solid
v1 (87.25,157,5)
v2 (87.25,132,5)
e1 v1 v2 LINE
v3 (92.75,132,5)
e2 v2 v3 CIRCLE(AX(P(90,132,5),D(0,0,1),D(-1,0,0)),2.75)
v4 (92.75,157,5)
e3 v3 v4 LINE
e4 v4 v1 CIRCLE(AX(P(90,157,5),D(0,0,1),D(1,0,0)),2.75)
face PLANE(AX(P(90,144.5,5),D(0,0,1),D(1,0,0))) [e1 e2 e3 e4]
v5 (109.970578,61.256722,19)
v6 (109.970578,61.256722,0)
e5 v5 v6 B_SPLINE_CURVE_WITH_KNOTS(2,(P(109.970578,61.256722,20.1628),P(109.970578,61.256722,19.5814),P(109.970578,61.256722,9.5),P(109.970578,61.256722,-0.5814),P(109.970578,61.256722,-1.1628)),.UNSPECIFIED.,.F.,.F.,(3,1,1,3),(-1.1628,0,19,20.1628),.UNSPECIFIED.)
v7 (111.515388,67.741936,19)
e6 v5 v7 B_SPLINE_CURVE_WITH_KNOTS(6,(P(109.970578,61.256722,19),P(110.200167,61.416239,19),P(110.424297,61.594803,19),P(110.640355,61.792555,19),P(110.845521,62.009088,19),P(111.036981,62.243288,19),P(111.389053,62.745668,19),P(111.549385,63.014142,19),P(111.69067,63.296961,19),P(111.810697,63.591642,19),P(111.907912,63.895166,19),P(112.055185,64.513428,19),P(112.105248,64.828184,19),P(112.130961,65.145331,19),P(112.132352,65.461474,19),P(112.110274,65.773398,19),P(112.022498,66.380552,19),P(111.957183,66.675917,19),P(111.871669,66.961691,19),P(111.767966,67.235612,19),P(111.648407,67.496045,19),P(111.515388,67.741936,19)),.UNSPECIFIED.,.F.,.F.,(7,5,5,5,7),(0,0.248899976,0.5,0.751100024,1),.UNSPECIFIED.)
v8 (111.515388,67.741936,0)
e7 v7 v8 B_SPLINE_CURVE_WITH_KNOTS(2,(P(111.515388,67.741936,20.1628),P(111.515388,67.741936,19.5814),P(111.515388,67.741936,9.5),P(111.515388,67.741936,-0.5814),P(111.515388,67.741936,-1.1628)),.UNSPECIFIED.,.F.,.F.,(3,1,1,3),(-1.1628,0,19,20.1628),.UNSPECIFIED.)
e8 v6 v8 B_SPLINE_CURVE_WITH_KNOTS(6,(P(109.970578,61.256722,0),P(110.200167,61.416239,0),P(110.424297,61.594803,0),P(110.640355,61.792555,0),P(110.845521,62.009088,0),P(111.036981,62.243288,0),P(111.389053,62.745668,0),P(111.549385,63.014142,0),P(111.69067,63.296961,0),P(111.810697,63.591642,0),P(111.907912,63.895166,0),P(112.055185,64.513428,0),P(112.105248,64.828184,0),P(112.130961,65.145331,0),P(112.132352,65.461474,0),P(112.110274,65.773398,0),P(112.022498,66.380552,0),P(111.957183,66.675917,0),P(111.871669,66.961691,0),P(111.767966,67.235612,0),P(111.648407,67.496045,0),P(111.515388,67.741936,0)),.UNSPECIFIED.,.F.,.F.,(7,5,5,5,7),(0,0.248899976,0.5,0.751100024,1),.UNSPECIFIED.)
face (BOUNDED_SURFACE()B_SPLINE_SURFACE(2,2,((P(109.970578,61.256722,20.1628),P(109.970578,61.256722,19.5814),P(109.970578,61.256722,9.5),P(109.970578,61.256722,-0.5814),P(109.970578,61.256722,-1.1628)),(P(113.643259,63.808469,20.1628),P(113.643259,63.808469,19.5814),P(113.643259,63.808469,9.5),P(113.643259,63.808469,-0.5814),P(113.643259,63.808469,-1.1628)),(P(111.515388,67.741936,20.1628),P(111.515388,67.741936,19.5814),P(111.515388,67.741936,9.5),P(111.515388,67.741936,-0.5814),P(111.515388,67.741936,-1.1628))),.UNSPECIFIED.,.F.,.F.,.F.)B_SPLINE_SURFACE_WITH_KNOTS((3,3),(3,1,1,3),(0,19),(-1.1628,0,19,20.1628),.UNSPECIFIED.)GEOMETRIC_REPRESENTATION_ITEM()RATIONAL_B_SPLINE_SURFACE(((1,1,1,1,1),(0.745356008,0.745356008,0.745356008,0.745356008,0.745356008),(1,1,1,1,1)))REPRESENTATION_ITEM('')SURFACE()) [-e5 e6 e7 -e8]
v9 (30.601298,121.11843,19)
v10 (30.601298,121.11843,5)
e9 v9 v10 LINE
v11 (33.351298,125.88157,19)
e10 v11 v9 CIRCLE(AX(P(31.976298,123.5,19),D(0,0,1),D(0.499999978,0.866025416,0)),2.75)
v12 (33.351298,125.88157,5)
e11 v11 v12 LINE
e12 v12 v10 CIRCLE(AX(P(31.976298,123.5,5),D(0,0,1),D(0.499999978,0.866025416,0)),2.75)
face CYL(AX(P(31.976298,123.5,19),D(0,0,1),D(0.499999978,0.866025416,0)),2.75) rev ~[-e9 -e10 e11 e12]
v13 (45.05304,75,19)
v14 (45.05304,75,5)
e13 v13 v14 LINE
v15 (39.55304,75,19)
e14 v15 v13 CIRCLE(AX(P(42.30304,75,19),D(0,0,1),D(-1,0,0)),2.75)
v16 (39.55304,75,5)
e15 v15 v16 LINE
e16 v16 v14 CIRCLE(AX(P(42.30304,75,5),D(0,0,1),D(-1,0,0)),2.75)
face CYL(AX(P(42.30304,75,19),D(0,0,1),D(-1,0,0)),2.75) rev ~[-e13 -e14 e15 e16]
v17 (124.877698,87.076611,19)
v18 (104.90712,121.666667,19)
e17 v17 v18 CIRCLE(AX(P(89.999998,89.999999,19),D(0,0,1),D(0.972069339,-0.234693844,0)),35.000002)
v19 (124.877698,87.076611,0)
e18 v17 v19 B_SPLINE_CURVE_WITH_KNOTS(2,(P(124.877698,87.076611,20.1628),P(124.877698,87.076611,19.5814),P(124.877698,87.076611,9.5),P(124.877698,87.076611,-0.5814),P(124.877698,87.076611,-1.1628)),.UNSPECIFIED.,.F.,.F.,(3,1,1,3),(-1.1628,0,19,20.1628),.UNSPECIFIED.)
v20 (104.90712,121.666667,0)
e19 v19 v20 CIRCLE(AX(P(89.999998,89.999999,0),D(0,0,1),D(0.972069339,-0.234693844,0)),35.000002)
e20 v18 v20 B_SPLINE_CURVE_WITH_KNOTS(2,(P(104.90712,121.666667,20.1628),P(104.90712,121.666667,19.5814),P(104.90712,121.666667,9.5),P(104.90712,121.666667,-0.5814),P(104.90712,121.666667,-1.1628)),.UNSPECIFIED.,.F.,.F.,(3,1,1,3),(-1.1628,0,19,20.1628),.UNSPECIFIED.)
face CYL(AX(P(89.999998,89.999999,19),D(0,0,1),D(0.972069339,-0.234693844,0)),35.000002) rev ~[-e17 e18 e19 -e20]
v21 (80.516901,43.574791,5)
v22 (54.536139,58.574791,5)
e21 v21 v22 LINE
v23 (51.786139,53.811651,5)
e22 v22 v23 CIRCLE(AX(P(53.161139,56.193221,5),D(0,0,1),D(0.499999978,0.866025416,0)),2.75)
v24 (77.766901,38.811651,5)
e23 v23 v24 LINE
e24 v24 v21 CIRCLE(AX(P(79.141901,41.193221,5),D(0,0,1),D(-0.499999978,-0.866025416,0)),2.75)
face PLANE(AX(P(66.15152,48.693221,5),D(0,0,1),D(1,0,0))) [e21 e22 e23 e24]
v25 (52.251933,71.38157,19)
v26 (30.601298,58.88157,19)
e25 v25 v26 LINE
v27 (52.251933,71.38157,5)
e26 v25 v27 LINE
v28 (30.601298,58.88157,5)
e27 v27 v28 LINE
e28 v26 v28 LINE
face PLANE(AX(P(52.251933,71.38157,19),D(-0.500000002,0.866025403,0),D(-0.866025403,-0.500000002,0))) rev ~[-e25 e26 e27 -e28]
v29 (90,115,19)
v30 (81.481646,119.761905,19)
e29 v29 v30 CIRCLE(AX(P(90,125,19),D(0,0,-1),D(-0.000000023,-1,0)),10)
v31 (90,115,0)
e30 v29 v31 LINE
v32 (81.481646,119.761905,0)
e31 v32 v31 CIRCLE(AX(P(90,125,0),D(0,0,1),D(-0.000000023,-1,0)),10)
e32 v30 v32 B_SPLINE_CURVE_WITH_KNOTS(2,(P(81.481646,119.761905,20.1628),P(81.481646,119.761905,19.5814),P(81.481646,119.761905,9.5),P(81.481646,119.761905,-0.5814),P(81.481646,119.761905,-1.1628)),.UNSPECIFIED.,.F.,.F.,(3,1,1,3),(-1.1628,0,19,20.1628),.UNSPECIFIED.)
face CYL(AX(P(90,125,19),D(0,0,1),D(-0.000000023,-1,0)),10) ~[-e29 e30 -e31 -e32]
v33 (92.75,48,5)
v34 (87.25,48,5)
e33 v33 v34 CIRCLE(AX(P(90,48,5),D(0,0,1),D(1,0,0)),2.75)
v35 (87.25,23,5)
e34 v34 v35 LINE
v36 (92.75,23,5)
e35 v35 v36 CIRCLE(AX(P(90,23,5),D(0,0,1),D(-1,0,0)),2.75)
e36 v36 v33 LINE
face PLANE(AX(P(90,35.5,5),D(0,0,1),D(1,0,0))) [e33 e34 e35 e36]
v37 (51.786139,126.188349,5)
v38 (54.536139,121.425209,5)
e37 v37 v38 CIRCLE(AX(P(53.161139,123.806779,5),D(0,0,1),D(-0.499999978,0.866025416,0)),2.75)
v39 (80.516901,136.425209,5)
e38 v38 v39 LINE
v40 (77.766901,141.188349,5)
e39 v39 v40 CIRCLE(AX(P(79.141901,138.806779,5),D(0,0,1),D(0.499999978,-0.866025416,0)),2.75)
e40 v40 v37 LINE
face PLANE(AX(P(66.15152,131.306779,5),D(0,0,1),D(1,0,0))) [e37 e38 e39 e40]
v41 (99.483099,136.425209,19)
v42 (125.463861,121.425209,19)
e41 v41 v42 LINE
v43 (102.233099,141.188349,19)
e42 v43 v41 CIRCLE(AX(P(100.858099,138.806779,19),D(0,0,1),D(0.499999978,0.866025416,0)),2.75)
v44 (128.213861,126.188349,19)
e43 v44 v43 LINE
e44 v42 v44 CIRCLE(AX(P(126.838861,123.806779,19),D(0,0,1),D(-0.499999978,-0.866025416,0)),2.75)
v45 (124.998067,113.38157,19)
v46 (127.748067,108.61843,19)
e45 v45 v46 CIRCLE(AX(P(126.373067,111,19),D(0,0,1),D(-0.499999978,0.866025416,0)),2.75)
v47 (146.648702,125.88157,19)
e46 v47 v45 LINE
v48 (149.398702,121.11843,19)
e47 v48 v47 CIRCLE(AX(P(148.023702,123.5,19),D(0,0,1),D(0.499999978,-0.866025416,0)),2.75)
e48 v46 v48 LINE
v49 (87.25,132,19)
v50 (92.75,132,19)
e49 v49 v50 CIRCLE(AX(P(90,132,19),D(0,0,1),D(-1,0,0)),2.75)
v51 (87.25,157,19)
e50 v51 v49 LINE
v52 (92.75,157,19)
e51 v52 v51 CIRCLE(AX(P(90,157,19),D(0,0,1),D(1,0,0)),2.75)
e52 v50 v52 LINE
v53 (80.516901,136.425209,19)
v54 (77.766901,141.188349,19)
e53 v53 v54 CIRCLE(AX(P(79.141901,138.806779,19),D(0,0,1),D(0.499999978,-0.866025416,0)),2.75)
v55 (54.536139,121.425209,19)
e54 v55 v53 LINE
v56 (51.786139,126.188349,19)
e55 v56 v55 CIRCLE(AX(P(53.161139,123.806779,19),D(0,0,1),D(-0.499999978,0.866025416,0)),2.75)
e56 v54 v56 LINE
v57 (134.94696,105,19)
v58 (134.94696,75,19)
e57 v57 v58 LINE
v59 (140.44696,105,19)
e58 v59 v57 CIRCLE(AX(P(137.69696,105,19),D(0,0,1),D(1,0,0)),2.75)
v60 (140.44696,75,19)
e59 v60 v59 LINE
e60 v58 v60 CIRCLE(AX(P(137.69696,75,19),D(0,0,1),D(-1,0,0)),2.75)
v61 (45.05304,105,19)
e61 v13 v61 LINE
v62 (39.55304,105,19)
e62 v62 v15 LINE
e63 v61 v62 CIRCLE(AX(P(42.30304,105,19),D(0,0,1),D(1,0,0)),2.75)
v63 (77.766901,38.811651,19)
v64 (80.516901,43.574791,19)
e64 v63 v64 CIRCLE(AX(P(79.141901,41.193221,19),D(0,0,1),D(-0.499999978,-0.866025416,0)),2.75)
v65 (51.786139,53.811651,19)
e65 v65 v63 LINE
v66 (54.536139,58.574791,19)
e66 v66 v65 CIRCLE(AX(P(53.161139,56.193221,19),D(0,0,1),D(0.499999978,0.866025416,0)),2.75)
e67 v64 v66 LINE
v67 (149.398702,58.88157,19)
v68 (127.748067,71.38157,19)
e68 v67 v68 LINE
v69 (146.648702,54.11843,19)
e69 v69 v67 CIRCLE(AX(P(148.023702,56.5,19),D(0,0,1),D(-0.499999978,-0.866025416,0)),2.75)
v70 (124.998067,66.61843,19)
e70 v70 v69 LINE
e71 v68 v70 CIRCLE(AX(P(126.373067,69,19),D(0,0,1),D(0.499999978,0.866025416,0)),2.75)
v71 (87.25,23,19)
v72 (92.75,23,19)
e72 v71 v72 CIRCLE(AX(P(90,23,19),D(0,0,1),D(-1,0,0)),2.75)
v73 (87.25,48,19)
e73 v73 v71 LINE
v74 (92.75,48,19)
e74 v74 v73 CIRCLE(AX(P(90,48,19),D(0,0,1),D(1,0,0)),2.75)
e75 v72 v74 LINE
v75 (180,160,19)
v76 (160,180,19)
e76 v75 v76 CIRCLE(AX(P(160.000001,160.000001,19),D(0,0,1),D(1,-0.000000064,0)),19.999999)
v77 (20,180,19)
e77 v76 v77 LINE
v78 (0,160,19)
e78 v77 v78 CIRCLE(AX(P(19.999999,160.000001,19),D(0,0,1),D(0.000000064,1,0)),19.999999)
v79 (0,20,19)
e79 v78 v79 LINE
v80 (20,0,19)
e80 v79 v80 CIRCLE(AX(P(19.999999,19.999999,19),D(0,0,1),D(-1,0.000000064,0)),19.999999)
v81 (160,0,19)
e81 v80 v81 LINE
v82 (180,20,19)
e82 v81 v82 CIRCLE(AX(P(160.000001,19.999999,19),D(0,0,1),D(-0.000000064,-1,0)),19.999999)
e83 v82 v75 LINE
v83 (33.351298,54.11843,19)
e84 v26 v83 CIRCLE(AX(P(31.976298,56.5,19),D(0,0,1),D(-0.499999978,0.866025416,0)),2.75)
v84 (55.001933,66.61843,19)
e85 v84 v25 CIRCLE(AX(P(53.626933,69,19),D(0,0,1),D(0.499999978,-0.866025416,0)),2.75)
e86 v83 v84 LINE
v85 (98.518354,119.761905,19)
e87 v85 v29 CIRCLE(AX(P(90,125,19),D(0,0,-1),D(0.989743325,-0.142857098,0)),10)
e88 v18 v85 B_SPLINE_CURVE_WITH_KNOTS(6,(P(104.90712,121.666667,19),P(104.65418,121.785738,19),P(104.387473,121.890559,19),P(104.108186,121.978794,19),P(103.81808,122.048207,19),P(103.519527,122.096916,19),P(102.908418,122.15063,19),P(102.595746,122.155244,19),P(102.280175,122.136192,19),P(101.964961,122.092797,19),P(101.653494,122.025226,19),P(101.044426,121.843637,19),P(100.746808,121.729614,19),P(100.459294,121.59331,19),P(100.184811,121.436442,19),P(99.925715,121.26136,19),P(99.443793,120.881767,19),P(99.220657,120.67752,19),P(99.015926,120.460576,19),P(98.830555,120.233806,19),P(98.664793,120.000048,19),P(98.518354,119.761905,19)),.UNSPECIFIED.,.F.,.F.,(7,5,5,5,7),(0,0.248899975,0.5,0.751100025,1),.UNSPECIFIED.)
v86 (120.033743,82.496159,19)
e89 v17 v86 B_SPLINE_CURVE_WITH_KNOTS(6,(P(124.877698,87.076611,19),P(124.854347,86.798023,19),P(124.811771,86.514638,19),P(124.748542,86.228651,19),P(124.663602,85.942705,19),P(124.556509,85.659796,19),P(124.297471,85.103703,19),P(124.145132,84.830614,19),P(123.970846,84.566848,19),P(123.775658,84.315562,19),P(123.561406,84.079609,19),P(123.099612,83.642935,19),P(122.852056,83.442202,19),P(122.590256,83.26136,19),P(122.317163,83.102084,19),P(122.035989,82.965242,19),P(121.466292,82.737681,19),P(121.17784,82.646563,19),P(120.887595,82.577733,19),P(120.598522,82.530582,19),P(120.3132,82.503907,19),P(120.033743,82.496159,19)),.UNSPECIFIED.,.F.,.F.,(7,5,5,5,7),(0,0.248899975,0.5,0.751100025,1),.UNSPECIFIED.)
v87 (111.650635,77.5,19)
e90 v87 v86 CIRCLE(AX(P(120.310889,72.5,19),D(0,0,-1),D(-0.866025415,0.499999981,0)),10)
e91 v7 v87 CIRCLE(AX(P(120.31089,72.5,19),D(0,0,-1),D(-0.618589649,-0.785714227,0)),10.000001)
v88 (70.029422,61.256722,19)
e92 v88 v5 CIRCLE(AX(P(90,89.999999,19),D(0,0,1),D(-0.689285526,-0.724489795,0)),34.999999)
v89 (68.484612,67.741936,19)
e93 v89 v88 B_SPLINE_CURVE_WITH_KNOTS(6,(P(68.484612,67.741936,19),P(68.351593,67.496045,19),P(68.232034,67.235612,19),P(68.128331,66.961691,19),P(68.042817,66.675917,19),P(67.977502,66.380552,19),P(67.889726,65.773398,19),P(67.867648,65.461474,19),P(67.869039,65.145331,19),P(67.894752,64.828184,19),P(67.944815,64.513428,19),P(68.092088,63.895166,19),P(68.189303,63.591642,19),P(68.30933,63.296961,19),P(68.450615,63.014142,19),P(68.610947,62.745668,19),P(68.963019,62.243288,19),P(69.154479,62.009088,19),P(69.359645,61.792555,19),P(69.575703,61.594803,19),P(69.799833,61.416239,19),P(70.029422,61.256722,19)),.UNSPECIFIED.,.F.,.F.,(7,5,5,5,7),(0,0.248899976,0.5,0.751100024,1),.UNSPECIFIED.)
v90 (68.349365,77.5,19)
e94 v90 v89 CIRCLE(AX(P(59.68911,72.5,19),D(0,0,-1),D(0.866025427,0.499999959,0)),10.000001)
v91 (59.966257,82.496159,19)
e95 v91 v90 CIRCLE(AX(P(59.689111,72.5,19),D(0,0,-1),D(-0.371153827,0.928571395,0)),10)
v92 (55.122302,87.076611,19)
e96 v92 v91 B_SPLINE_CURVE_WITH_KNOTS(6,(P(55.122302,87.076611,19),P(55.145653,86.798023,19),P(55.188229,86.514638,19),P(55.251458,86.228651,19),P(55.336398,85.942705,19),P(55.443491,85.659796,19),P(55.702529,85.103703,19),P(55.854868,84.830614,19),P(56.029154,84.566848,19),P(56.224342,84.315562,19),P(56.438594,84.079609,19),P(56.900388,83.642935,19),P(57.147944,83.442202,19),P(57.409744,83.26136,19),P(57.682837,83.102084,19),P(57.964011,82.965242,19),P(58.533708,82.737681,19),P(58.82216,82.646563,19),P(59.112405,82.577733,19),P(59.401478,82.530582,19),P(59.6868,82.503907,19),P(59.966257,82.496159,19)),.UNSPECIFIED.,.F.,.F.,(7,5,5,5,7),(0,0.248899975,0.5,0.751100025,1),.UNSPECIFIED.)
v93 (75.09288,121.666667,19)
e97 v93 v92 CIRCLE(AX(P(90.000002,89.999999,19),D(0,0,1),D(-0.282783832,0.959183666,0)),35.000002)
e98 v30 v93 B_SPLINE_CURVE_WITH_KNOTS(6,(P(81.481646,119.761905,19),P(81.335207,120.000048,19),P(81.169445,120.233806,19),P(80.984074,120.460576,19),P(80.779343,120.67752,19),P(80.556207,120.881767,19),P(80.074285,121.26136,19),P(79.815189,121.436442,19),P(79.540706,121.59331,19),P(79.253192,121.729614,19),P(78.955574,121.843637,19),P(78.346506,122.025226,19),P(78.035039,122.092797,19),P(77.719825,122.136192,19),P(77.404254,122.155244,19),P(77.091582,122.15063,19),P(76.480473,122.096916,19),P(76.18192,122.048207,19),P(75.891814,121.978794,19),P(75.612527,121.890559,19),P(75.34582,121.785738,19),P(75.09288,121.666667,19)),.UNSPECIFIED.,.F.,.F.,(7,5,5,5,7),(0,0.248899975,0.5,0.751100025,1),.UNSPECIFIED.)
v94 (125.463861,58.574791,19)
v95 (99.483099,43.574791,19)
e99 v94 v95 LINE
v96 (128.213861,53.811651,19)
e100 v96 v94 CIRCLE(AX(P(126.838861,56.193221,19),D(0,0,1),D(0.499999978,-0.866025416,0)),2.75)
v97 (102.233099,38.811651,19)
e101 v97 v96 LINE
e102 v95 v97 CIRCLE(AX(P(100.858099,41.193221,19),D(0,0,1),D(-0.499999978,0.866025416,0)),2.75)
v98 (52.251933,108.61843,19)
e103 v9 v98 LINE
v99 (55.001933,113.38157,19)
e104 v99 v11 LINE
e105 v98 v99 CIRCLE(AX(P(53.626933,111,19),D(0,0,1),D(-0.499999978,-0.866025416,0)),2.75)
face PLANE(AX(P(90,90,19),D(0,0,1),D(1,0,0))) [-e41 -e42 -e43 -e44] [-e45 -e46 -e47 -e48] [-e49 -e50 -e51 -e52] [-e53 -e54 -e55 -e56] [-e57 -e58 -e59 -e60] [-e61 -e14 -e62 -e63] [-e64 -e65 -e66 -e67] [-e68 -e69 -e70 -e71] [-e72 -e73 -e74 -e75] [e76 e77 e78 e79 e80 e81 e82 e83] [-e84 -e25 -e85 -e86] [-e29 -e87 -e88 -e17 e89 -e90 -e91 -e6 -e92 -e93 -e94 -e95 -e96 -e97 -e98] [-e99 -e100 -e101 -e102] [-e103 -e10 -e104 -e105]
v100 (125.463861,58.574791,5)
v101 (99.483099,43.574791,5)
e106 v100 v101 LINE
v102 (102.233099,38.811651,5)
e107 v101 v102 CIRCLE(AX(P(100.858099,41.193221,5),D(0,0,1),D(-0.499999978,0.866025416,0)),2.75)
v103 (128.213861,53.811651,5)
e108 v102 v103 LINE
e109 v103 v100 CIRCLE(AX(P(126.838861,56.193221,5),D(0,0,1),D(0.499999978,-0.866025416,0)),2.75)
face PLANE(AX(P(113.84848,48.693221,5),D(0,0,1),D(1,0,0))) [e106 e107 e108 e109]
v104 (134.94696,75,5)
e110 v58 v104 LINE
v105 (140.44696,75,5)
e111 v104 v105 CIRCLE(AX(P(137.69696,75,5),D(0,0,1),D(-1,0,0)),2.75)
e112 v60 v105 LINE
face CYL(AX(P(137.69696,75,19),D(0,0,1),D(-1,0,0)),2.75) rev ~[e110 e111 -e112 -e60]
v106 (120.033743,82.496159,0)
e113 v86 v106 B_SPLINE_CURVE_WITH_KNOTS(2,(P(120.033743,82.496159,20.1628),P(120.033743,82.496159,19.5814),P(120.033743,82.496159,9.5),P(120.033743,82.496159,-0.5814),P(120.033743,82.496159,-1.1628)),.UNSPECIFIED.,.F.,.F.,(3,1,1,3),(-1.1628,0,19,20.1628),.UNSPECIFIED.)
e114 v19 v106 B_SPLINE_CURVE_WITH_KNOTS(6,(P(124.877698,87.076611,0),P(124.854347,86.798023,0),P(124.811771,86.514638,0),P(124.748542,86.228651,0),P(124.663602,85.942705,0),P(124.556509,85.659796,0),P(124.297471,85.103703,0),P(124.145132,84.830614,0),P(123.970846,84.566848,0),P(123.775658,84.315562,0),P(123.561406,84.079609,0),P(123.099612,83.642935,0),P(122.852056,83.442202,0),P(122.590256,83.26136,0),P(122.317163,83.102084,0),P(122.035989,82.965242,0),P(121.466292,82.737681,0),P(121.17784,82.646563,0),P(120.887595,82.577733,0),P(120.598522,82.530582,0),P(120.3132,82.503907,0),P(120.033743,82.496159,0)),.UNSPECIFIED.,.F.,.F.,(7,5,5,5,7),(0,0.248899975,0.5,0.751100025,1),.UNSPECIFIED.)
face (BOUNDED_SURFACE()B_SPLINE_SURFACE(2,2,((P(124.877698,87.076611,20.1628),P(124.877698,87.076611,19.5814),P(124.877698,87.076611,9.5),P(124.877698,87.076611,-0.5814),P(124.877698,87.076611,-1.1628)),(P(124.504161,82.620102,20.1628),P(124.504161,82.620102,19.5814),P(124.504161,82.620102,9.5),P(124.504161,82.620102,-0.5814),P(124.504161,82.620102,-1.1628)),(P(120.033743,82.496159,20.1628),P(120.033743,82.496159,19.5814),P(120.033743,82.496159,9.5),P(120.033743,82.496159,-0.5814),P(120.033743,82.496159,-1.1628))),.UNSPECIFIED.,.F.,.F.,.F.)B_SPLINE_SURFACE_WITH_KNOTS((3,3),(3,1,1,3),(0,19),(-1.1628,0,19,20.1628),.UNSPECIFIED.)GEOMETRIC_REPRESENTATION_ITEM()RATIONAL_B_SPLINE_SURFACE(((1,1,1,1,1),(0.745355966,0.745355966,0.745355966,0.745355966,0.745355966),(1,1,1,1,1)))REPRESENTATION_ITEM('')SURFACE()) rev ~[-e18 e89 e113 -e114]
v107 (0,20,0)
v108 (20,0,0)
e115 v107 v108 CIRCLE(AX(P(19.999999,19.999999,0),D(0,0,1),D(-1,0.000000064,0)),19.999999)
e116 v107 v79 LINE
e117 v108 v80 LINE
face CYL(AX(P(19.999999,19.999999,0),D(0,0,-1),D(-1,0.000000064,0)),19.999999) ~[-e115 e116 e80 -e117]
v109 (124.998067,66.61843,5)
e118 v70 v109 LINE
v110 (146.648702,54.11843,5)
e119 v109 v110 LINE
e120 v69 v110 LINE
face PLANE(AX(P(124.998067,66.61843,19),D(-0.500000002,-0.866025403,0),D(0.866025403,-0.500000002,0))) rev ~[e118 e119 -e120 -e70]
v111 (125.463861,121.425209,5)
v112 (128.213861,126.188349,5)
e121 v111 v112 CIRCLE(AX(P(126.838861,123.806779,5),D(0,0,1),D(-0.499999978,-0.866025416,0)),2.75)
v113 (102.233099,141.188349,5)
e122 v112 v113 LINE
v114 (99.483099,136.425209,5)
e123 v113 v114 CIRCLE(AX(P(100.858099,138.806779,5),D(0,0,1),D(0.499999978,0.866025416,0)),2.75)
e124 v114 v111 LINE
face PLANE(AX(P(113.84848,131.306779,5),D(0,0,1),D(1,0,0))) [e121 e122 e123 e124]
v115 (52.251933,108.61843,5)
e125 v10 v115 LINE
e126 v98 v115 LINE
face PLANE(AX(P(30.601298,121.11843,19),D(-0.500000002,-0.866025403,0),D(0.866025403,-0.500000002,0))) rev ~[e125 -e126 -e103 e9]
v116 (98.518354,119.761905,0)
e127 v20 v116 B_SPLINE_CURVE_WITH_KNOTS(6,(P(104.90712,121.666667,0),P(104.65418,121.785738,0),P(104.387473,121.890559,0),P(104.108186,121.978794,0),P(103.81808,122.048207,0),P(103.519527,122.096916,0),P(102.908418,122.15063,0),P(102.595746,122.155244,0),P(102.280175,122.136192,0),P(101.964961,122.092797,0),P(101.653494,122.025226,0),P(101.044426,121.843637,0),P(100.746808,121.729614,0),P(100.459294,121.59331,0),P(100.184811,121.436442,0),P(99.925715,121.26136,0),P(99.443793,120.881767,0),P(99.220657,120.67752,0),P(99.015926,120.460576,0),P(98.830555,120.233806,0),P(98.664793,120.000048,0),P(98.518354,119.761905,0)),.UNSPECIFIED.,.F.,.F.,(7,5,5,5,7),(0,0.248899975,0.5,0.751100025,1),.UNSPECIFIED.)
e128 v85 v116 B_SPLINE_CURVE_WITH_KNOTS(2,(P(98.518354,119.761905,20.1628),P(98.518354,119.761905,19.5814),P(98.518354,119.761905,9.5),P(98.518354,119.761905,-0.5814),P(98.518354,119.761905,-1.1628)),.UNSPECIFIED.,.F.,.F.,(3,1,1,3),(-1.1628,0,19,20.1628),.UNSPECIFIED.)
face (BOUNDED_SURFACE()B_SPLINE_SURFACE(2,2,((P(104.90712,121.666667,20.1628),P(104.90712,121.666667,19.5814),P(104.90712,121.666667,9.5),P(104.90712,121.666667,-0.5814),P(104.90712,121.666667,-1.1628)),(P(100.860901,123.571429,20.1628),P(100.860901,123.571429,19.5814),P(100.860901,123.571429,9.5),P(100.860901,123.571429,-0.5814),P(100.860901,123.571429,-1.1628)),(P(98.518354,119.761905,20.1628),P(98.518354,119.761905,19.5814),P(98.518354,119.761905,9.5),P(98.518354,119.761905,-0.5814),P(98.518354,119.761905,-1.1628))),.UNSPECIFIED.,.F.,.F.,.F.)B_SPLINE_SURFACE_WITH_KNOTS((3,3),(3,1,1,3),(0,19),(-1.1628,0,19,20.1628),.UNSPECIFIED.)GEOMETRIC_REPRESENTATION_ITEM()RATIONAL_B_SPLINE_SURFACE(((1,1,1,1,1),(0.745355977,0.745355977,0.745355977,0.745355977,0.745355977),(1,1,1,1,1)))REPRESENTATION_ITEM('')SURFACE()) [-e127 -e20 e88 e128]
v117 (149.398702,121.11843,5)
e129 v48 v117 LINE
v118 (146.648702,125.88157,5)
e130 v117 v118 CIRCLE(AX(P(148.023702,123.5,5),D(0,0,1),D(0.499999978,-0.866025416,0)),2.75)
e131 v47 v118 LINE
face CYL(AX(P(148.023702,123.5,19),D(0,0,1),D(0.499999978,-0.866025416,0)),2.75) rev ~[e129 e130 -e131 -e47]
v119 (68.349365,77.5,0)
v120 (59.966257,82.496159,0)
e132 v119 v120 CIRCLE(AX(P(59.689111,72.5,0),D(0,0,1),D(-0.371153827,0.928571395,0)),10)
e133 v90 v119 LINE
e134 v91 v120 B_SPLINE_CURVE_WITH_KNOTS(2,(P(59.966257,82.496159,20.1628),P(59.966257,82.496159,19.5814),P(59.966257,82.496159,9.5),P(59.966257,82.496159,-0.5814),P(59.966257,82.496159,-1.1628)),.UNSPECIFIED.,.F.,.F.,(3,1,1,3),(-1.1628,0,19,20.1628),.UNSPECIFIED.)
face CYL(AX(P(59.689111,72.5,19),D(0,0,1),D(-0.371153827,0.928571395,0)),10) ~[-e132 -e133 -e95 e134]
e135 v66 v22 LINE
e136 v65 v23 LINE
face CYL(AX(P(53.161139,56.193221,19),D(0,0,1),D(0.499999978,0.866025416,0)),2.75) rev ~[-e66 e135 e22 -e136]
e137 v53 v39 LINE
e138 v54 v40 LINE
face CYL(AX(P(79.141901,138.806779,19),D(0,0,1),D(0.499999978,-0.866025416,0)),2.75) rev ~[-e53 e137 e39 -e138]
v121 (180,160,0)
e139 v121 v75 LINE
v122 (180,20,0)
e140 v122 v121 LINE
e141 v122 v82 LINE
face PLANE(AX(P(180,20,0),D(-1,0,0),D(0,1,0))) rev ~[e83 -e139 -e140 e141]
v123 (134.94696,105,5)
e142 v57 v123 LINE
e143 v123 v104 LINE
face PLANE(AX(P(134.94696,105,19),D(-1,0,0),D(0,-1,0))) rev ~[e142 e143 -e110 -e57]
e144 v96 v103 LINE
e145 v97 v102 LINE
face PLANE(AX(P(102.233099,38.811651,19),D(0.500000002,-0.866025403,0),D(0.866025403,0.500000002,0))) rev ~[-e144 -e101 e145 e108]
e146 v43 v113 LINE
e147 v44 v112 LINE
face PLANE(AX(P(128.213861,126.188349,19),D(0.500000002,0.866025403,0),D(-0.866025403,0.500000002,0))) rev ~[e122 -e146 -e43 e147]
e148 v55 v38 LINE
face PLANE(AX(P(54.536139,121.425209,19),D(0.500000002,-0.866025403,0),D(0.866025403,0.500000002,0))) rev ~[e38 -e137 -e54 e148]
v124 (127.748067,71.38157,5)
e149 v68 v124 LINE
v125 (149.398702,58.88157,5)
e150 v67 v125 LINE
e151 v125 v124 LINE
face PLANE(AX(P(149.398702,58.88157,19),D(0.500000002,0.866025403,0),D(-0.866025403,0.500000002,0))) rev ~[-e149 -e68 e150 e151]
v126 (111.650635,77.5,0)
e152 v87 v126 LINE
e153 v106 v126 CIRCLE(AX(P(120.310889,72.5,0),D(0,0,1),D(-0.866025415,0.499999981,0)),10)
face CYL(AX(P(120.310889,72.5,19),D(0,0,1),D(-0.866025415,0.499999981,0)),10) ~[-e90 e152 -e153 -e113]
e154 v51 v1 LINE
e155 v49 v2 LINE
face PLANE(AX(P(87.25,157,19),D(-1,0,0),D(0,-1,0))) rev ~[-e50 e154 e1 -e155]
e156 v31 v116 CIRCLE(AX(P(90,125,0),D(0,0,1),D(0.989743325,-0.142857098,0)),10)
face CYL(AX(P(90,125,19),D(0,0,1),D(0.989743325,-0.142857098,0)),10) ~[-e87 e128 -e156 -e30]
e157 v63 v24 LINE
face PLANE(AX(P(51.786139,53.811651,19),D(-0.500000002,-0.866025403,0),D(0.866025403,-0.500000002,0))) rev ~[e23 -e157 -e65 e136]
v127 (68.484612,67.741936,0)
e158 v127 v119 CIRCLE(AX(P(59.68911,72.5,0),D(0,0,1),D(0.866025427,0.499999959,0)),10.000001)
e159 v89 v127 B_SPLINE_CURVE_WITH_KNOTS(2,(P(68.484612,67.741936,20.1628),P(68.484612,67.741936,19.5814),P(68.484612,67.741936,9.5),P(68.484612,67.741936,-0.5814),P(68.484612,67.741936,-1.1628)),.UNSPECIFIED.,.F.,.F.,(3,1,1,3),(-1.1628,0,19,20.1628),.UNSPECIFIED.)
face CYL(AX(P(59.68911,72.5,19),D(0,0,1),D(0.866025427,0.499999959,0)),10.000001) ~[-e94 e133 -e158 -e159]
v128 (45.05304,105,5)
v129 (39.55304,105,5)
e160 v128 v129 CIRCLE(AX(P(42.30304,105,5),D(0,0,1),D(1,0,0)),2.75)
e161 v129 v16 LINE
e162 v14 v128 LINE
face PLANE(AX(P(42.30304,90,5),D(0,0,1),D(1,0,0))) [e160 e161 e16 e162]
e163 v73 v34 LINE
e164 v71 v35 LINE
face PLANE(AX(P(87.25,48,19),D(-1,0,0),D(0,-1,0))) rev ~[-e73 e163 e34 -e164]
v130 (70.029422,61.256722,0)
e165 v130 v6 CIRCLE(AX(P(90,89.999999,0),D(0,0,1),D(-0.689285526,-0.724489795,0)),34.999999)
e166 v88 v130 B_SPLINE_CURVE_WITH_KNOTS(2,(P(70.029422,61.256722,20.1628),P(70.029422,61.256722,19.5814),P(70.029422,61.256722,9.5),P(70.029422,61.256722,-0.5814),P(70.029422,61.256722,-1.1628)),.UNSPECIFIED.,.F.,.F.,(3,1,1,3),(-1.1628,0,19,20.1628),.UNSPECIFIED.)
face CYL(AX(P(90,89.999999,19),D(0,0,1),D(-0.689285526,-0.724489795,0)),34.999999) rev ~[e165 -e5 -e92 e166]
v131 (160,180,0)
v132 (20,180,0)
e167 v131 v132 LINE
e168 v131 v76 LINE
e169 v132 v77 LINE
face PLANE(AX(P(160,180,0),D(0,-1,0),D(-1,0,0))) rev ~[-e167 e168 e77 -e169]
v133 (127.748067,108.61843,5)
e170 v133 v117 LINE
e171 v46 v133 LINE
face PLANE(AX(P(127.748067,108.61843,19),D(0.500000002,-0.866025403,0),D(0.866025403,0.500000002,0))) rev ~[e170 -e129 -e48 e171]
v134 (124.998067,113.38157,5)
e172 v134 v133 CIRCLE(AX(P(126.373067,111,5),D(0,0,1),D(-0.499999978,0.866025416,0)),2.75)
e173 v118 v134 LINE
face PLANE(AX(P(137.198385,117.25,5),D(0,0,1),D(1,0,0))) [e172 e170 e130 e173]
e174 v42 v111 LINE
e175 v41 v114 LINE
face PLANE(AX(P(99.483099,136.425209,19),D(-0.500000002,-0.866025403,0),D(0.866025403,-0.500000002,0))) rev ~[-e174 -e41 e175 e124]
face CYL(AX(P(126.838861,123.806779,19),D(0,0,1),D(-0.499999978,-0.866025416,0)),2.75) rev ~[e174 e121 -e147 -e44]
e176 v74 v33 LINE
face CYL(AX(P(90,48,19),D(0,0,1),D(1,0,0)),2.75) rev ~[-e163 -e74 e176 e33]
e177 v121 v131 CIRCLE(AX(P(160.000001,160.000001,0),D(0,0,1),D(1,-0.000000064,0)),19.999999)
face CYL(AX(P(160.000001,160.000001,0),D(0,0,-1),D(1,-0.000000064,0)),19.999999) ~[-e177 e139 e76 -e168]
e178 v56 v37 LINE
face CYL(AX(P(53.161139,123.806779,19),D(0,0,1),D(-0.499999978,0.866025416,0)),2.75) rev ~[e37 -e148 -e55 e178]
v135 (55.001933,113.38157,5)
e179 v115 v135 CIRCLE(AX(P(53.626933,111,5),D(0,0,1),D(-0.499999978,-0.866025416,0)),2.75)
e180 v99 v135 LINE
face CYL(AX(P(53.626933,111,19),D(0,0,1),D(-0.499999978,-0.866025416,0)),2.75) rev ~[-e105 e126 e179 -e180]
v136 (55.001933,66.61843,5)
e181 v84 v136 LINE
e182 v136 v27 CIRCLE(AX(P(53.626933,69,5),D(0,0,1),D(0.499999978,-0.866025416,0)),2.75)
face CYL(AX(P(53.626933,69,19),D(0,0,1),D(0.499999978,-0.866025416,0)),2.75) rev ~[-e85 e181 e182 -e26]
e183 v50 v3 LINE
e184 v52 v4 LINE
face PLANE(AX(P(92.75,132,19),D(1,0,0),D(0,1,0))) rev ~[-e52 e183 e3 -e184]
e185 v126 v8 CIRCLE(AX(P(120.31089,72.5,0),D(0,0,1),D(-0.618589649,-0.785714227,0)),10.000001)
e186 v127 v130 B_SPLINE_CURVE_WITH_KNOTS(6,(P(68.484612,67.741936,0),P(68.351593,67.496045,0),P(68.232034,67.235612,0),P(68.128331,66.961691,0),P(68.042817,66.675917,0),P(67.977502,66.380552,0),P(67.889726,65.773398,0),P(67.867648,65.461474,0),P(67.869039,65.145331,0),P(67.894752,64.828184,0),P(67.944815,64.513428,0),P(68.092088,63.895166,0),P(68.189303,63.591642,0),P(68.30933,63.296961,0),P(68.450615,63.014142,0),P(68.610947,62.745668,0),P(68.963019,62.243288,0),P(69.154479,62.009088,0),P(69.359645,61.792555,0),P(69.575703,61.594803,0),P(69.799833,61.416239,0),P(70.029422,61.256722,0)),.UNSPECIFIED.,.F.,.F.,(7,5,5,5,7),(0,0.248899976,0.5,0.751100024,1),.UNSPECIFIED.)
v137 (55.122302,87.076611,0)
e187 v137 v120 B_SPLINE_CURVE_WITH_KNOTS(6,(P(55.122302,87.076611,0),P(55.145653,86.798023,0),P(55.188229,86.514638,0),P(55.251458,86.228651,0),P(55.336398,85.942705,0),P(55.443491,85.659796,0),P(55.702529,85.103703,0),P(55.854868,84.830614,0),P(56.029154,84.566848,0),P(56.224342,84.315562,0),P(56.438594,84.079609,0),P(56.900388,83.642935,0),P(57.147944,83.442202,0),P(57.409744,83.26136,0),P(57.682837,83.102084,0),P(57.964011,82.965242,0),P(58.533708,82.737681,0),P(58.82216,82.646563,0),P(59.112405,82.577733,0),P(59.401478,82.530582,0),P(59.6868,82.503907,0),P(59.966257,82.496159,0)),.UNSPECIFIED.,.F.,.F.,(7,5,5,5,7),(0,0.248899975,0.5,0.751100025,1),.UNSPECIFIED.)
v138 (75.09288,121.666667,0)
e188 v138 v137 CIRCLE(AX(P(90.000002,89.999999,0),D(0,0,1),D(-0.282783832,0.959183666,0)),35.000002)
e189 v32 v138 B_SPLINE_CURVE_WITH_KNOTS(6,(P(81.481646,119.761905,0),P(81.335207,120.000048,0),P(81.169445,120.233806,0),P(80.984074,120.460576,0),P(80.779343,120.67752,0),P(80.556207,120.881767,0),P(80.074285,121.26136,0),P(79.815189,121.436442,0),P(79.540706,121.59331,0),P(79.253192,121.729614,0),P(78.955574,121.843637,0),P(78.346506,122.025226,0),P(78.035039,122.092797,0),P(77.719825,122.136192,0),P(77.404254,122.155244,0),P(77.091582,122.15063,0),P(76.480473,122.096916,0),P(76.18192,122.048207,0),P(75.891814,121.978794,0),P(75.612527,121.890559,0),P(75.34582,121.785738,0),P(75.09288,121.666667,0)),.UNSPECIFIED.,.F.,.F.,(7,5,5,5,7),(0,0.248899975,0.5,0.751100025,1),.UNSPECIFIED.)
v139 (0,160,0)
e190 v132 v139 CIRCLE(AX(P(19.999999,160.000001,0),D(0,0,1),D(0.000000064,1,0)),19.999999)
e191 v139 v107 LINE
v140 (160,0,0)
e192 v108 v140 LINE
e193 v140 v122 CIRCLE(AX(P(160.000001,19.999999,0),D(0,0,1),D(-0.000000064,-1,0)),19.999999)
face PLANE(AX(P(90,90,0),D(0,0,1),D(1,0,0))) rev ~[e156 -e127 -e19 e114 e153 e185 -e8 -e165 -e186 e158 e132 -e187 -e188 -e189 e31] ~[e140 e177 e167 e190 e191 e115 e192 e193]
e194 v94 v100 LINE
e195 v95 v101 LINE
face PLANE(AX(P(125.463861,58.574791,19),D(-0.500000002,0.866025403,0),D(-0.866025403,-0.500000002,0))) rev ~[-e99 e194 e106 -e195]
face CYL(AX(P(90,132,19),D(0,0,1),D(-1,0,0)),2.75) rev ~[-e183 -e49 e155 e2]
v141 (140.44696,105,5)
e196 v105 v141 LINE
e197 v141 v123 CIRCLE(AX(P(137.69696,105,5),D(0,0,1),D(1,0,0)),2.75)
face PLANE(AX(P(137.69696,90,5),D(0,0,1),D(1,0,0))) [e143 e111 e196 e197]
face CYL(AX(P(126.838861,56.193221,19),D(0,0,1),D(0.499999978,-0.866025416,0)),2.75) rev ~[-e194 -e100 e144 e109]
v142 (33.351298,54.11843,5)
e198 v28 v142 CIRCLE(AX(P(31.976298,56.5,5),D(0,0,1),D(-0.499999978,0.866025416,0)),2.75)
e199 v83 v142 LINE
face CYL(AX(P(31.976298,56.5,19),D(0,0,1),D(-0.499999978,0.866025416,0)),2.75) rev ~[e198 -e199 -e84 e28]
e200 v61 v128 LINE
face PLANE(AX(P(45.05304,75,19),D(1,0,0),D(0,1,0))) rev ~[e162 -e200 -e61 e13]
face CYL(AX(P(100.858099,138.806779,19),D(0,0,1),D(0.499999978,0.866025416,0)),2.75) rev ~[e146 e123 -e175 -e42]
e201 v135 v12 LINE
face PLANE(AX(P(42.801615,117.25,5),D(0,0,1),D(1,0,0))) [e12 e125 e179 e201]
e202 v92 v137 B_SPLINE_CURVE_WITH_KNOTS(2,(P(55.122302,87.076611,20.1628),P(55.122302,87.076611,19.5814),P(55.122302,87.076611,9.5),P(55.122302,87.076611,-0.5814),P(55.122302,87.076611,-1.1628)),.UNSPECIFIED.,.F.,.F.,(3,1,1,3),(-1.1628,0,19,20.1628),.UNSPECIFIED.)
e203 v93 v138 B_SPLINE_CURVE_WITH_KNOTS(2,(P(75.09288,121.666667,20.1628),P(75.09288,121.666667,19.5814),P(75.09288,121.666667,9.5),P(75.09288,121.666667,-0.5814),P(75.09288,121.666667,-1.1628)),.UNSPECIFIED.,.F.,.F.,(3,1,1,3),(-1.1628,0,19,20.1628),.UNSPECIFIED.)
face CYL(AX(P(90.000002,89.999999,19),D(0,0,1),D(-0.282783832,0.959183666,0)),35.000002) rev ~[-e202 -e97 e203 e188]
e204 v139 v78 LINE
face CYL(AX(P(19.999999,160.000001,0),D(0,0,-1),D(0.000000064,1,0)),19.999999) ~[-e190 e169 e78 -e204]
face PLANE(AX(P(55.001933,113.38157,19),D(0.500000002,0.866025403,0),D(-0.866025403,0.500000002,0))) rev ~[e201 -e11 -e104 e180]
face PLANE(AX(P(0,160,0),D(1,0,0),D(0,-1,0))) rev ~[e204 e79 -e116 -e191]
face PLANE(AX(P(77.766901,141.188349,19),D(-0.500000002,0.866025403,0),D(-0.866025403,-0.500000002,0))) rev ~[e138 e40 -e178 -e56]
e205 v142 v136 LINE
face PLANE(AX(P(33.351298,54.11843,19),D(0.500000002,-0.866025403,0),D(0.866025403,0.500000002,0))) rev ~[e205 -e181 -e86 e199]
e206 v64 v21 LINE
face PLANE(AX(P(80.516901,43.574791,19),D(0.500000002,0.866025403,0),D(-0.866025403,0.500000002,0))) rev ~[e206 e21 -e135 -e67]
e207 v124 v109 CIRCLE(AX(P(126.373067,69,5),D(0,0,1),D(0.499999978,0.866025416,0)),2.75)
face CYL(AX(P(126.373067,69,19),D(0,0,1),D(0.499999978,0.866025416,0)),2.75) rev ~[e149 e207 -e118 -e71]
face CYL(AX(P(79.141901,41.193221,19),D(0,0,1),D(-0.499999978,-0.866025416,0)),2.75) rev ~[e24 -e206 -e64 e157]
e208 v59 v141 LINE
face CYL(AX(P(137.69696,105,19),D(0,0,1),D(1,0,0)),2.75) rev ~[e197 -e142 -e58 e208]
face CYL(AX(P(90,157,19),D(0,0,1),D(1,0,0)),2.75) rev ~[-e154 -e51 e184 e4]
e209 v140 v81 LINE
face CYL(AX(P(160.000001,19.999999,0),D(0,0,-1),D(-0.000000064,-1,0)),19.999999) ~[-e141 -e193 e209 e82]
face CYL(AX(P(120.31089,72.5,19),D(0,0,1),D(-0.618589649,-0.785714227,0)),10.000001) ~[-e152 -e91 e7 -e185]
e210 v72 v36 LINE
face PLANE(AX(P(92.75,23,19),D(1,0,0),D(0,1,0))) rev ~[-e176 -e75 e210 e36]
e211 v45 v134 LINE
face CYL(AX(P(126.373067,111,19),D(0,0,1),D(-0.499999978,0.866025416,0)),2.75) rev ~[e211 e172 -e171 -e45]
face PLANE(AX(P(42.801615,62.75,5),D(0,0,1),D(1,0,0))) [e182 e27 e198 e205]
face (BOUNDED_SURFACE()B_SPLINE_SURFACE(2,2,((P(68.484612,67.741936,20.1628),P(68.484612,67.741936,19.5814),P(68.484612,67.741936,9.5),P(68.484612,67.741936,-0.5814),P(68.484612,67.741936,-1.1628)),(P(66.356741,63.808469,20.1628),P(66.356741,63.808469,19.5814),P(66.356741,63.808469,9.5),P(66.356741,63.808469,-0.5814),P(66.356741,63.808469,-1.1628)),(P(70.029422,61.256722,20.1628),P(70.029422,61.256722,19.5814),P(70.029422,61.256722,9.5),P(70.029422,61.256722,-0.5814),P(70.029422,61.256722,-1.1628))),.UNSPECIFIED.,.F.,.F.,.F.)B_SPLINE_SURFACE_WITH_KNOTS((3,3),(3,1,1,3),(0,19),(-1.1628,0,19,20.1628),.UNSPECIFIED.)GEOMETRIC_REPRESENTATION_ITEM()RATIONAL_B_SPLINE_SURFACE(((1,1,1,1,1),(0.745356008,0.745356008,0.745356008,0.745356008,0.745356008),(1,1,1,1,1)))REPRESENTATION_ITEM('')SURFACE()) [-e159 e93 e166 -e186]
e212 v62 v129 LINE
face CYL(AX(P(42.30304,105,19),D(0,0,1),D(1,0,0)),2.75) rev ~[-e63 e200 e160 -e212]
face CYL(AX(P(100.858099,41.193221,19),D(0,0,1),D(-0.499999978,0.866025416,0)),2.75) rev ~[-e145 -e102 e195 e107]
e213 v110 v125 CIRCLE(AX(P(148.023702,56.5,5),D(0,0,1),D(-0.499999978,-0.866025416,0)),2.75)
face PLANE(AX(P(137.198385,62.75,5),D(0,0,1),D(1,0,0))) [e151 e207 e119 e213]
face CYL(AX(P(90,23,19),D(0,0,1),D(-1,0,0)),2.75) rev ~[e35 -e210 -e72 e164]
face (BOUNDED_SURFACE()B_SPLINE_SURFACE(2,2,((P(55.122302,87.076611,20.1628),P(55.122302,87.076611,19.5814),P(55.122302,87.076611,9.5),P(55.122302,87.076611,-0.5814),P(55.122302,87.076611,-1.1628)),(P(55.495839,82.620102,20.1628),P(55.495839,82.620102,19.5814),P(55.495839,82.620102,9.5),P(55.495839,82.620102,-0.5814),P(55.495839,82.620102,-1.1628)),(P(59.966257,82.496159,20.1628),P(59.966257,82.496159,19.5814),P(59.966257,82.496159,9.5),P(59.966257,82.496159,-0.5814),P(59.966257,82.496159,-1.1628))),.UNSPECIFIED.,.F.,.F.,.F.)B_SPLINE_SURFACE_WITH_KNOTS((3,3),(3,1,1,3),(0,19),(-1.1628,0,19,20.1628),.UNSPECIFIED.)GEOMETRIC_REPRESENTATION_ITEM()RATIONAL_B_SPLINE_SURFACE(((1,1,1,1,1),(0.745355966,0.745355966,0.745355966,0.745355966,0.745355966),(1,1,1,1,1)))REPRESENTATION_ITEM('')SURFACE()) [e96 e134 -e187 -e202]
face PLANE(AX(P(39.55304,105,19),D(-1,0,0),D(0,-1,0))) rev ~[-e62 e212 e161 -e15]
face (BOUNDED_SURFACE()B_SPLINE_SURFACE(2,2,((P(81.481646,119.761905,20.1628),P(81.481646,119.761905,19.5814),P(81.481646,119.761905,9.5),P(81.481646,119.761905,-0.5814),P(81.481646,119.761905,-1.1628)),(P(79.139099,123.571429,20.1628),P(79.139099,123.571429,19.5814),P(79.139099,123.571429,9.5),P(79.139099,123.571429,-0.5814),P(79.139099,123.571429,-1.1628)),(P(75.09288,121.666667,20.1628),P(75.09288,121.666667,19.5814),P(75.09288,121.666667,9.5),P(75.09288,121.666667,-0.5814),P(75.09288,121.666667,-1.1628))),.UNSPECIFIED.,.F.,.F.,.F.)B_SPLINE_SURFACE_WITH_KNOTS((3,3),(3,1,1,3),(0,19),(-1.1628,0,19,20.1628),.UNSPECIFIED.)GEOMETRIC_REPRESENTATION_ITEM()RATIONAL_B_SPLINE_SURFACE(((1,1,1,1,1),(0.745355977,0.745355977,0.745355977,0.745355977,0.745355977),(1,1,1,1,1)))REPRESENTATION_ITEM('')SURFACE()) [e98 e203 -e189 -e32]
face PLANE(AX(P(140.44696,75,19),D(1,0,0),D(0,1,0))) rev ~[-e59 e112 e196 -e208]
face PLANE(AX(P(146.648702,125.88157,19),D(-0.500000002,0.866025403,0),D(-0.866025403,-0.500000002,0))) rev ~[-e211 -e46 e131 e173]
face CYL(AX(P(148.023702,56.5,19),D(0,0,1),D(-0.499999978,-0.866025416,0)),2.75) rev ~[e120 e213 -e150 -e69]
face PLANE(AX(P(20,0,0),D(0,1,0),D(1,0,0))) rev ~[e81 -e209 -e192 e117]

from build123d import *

# Parameters (mm, degrees)
F1_DEPTH = 19
F5_DEPTH = 19.001
F6_DEPTH = 14
F7_R     = 5


with BuildPart() as f1:
    # F0 (on Top) → F1 (new body)
    with BuildSketch(Plane.XY):
        with BuildLine():
            ThreePointArc((0, 20), (5.857864, 5.857864), (20, 0))
            Line((20, 0), (160, 0))
            ThreePointArc((160, 0), (174.142136, 5.857864), (180, 20))
            Line((180, 20), (180, 160))
            ThreePointArc((180, 160), (174.142136, 174.142136), (160, 180))
            Line((160, 180), (20, 180))
            ThreePointArc((20, 180), (5.857864, 174.142136), (0, 160))
            Line((0, 160), (0, 20))
        make_face()
    extrude(amount=F1_DEPTH)

    # F4 (on face) → F5 (cut, through all)
    with BuildSketch(Plane.XY.offset(19)):
        with BuildLine():
            ThreePointArc((124.022427, 81.785714), (120.310889, 107.5), (99.897433, 123.571429))
            ThreePointArc((99.897433, 123.571429), (96.546537, 117.440711), (90, 115))
            ThreePointArc((90, 115), (83.453463, 117.440711), (80.102567, 123.571429))
            ThreePointArc((80.102567, 123.571429), (59.689111, 107.5), (55.977573, 81.785714))
            ThreePointArc((55.977573, 81.785714), (62.962379, 81.949112), (68.349365, 77.5))
            ThreePointArc((68.349365, 77.5), (69.508916, 70.610178), (65.875007, 64.642857))
            ThreePointArc((65.875007, 64.642857), (90, 55), (114.124993, 64.642857))
            ThreePointArc((114.124993, 64.642857), (110.491084, 70.610178), (111.650635, 77.5))
            ThreePointArc((111.650635, 77.5), (117.037621, 81.949112), (124.022427, 81.785714))
        make_face()
    extrude(amount=-F5_DEPTH, mode=Mode.SUBTRACT)

    # F2 (on face) + F3 (on face) → F6 (cut)
    with BuildSketch(Plane.XY.offset(19)):
        with BuildLine():
            ThreePointArc((45.05304, 105), (42.30304, 107.75), (39.55304, 105))
            Line((39.55304, 105), (39.55304, 75))
            ThreePointArc((39.55304, 75), (42.30304, 72.25), (45.05304, 75))
            Line((45.05304, 75), (45.05304, 105))
        make_face()
        with BuildLine():
            ThreePointArc((51.786139, 126.188349), (50.779569, 122.431779), (54.536139, 121.425209))
            Line((54.536139, 121.425209), (80.516901, 136.425209))
            ThreePointArc((80.516901, 136.425209), (81.523471, 140.181779), (77.766901, 141.188349))
            Line((77.766901, 141.188349), (51.786139, 126.188349))
        make_face()
        with BuildLine():
            ThreePointArc((102.233099, 141.188349), (98.476529, 140.181779), (99.483099, 136.425209))
            Line((99.483099, 136.425209), (125.463861, 121.425209))
            ThreePointArc((125.463861, 121.425209), (129.220431, 122.431779), (128.213861, 126.188349))
            Line((128.213861, 126.188349), (102.233099, 141.188349))
        make_face()
        with BuildLine():
            ThreePointArc((140.44696, 105), (137.69696, 107.75), (134.94696, 105))
            Line((134.94696, 105), (134.94696, 75))
            ThreePointArc((134.94696, 75), (137.69696, 72.25), (140.44696, 75))
            Line((140.44696, 75), (140.44696, 105))
        make_face()
        with BuildLine():
            ThreePointArc((128.213861, 53.811651), (129.220431, 57.568221), (125.463861, 58.574791))
            Line((125.463861, 58.574791), (99.483099, 43.574791))
            ThreePointArc((99.483099, 43.574791), (98.476529, 39.818221), (102.233099, 38.811651))
            Line((102.233099, 38.811651), (128.213861, 53.811651))
        make_face()
        with BuildLine():
            ThreePointArc((77.766901, 38.811651), (81.523471, 39.818221), (80.516901, 43.574791))
            Line((80.516901, 43.574791), (54.536139, 58.574791))
            ThreePointArc((54.536139, 58.574791), (50.779569, 57.568221), (51.786139, 53.811651))
            Line((51.786139, 53.811651), (77.766901, 38.811651))
        make_face()
    with BuildSketch(Plane.XY.offset(19)):
        with BuildLine():
            ThreePointArc((87.25, 23), (90, 20.25), (92.75, 23))
            Line((92.75, 23), (92.75, 48))
            ThreePointArc((92.75, 48), (90, 50.75), (87.25, 48))
            Line((87.25, 48), (87.25, 23))
        make_face()
        with BuildLine():
            ThreePointArc((30.601298, 58.88157), (29.594728, 55.125), (33.351298, 54.11843))
            Line((33.351298, 54.11843), (55.001933, 66.61843))
            ThreePointArc((55.001933, 66.61843), (56.008503, 70.375), (52.251933, 71.38157))
            Line((52.251933, 71.38157), (30.601298, 58.88157))
        make_face()
        with BuildLine():
            ThreePointArc((33.351298, 125.88157), (29.594728, 124.875), (30.601298, 121.11843))
            Line((30.601298, 121.11843), (52.251933, 108.61843))
            ThreePointArc((52.251933, 108.61843), (56.008503, 109.625), (55.001933, 113.38157))
            Line((55.001933, 113.38157), (33.351298, 125.88157))
        make_face()
        with BuildLine():
            ThreePointArc((92.75, 157), (90, 159.75), (87.25, 157))
            Line((87.25, 157), (87.25, 132))
            ThreePointArc((87.25, 132), (90, 129.25), (92.75, 132))
            Line((92.75, 132), (92.75, 157))
        make_face()
        with BuildLine():
            ThreePointArc((149.398702, 121.11843), (150.405272, 124.875), (146.648702, 125.88157))
            Line((146.648702, 125.88157), (124.998067, 113.38157))
            ThreePointArc((124.998067, 113.38157), (123.991497, 109.625), (127.748067, 108.61843))
            Line((127.748067, 108.61843), (149.398702, 121.11843))
        make_face()
        with BuildLine():
            ThreePointArc((146.648702, 54.11843), (150.405272, 55.125), (149.398702, 58.88157))
            Line((149.398702, 58.88157), (127.748067, 71.38157))
            ThreePointArc((127.748067, 71.38157), (123.991497, 70.375), (124.998067, 66.61843))
            Line((124.998067, 66.61843), (146.648702, 54.11843))
        make_face()
    extrude(amount=-F6_DEPTH, mode=Mode.SUBTRACT)

    # F7
    f7_edges = [f1.edges().sort_by_distance(p)[0] for p in [
        (80.102567, 123.571429, 9.5),
        (99.897433, 123.571429, 9.5),
        (55.977573, 81.785714, 9.5),
        (65.875007, 64.642857, 9.5),
        (114.124993, 64.642857, 9.5),
        (124.022427, 81.785714, 9.5),
    ]]
    fillet(f7_edges, radius=F7_R)


solid = f1.part
